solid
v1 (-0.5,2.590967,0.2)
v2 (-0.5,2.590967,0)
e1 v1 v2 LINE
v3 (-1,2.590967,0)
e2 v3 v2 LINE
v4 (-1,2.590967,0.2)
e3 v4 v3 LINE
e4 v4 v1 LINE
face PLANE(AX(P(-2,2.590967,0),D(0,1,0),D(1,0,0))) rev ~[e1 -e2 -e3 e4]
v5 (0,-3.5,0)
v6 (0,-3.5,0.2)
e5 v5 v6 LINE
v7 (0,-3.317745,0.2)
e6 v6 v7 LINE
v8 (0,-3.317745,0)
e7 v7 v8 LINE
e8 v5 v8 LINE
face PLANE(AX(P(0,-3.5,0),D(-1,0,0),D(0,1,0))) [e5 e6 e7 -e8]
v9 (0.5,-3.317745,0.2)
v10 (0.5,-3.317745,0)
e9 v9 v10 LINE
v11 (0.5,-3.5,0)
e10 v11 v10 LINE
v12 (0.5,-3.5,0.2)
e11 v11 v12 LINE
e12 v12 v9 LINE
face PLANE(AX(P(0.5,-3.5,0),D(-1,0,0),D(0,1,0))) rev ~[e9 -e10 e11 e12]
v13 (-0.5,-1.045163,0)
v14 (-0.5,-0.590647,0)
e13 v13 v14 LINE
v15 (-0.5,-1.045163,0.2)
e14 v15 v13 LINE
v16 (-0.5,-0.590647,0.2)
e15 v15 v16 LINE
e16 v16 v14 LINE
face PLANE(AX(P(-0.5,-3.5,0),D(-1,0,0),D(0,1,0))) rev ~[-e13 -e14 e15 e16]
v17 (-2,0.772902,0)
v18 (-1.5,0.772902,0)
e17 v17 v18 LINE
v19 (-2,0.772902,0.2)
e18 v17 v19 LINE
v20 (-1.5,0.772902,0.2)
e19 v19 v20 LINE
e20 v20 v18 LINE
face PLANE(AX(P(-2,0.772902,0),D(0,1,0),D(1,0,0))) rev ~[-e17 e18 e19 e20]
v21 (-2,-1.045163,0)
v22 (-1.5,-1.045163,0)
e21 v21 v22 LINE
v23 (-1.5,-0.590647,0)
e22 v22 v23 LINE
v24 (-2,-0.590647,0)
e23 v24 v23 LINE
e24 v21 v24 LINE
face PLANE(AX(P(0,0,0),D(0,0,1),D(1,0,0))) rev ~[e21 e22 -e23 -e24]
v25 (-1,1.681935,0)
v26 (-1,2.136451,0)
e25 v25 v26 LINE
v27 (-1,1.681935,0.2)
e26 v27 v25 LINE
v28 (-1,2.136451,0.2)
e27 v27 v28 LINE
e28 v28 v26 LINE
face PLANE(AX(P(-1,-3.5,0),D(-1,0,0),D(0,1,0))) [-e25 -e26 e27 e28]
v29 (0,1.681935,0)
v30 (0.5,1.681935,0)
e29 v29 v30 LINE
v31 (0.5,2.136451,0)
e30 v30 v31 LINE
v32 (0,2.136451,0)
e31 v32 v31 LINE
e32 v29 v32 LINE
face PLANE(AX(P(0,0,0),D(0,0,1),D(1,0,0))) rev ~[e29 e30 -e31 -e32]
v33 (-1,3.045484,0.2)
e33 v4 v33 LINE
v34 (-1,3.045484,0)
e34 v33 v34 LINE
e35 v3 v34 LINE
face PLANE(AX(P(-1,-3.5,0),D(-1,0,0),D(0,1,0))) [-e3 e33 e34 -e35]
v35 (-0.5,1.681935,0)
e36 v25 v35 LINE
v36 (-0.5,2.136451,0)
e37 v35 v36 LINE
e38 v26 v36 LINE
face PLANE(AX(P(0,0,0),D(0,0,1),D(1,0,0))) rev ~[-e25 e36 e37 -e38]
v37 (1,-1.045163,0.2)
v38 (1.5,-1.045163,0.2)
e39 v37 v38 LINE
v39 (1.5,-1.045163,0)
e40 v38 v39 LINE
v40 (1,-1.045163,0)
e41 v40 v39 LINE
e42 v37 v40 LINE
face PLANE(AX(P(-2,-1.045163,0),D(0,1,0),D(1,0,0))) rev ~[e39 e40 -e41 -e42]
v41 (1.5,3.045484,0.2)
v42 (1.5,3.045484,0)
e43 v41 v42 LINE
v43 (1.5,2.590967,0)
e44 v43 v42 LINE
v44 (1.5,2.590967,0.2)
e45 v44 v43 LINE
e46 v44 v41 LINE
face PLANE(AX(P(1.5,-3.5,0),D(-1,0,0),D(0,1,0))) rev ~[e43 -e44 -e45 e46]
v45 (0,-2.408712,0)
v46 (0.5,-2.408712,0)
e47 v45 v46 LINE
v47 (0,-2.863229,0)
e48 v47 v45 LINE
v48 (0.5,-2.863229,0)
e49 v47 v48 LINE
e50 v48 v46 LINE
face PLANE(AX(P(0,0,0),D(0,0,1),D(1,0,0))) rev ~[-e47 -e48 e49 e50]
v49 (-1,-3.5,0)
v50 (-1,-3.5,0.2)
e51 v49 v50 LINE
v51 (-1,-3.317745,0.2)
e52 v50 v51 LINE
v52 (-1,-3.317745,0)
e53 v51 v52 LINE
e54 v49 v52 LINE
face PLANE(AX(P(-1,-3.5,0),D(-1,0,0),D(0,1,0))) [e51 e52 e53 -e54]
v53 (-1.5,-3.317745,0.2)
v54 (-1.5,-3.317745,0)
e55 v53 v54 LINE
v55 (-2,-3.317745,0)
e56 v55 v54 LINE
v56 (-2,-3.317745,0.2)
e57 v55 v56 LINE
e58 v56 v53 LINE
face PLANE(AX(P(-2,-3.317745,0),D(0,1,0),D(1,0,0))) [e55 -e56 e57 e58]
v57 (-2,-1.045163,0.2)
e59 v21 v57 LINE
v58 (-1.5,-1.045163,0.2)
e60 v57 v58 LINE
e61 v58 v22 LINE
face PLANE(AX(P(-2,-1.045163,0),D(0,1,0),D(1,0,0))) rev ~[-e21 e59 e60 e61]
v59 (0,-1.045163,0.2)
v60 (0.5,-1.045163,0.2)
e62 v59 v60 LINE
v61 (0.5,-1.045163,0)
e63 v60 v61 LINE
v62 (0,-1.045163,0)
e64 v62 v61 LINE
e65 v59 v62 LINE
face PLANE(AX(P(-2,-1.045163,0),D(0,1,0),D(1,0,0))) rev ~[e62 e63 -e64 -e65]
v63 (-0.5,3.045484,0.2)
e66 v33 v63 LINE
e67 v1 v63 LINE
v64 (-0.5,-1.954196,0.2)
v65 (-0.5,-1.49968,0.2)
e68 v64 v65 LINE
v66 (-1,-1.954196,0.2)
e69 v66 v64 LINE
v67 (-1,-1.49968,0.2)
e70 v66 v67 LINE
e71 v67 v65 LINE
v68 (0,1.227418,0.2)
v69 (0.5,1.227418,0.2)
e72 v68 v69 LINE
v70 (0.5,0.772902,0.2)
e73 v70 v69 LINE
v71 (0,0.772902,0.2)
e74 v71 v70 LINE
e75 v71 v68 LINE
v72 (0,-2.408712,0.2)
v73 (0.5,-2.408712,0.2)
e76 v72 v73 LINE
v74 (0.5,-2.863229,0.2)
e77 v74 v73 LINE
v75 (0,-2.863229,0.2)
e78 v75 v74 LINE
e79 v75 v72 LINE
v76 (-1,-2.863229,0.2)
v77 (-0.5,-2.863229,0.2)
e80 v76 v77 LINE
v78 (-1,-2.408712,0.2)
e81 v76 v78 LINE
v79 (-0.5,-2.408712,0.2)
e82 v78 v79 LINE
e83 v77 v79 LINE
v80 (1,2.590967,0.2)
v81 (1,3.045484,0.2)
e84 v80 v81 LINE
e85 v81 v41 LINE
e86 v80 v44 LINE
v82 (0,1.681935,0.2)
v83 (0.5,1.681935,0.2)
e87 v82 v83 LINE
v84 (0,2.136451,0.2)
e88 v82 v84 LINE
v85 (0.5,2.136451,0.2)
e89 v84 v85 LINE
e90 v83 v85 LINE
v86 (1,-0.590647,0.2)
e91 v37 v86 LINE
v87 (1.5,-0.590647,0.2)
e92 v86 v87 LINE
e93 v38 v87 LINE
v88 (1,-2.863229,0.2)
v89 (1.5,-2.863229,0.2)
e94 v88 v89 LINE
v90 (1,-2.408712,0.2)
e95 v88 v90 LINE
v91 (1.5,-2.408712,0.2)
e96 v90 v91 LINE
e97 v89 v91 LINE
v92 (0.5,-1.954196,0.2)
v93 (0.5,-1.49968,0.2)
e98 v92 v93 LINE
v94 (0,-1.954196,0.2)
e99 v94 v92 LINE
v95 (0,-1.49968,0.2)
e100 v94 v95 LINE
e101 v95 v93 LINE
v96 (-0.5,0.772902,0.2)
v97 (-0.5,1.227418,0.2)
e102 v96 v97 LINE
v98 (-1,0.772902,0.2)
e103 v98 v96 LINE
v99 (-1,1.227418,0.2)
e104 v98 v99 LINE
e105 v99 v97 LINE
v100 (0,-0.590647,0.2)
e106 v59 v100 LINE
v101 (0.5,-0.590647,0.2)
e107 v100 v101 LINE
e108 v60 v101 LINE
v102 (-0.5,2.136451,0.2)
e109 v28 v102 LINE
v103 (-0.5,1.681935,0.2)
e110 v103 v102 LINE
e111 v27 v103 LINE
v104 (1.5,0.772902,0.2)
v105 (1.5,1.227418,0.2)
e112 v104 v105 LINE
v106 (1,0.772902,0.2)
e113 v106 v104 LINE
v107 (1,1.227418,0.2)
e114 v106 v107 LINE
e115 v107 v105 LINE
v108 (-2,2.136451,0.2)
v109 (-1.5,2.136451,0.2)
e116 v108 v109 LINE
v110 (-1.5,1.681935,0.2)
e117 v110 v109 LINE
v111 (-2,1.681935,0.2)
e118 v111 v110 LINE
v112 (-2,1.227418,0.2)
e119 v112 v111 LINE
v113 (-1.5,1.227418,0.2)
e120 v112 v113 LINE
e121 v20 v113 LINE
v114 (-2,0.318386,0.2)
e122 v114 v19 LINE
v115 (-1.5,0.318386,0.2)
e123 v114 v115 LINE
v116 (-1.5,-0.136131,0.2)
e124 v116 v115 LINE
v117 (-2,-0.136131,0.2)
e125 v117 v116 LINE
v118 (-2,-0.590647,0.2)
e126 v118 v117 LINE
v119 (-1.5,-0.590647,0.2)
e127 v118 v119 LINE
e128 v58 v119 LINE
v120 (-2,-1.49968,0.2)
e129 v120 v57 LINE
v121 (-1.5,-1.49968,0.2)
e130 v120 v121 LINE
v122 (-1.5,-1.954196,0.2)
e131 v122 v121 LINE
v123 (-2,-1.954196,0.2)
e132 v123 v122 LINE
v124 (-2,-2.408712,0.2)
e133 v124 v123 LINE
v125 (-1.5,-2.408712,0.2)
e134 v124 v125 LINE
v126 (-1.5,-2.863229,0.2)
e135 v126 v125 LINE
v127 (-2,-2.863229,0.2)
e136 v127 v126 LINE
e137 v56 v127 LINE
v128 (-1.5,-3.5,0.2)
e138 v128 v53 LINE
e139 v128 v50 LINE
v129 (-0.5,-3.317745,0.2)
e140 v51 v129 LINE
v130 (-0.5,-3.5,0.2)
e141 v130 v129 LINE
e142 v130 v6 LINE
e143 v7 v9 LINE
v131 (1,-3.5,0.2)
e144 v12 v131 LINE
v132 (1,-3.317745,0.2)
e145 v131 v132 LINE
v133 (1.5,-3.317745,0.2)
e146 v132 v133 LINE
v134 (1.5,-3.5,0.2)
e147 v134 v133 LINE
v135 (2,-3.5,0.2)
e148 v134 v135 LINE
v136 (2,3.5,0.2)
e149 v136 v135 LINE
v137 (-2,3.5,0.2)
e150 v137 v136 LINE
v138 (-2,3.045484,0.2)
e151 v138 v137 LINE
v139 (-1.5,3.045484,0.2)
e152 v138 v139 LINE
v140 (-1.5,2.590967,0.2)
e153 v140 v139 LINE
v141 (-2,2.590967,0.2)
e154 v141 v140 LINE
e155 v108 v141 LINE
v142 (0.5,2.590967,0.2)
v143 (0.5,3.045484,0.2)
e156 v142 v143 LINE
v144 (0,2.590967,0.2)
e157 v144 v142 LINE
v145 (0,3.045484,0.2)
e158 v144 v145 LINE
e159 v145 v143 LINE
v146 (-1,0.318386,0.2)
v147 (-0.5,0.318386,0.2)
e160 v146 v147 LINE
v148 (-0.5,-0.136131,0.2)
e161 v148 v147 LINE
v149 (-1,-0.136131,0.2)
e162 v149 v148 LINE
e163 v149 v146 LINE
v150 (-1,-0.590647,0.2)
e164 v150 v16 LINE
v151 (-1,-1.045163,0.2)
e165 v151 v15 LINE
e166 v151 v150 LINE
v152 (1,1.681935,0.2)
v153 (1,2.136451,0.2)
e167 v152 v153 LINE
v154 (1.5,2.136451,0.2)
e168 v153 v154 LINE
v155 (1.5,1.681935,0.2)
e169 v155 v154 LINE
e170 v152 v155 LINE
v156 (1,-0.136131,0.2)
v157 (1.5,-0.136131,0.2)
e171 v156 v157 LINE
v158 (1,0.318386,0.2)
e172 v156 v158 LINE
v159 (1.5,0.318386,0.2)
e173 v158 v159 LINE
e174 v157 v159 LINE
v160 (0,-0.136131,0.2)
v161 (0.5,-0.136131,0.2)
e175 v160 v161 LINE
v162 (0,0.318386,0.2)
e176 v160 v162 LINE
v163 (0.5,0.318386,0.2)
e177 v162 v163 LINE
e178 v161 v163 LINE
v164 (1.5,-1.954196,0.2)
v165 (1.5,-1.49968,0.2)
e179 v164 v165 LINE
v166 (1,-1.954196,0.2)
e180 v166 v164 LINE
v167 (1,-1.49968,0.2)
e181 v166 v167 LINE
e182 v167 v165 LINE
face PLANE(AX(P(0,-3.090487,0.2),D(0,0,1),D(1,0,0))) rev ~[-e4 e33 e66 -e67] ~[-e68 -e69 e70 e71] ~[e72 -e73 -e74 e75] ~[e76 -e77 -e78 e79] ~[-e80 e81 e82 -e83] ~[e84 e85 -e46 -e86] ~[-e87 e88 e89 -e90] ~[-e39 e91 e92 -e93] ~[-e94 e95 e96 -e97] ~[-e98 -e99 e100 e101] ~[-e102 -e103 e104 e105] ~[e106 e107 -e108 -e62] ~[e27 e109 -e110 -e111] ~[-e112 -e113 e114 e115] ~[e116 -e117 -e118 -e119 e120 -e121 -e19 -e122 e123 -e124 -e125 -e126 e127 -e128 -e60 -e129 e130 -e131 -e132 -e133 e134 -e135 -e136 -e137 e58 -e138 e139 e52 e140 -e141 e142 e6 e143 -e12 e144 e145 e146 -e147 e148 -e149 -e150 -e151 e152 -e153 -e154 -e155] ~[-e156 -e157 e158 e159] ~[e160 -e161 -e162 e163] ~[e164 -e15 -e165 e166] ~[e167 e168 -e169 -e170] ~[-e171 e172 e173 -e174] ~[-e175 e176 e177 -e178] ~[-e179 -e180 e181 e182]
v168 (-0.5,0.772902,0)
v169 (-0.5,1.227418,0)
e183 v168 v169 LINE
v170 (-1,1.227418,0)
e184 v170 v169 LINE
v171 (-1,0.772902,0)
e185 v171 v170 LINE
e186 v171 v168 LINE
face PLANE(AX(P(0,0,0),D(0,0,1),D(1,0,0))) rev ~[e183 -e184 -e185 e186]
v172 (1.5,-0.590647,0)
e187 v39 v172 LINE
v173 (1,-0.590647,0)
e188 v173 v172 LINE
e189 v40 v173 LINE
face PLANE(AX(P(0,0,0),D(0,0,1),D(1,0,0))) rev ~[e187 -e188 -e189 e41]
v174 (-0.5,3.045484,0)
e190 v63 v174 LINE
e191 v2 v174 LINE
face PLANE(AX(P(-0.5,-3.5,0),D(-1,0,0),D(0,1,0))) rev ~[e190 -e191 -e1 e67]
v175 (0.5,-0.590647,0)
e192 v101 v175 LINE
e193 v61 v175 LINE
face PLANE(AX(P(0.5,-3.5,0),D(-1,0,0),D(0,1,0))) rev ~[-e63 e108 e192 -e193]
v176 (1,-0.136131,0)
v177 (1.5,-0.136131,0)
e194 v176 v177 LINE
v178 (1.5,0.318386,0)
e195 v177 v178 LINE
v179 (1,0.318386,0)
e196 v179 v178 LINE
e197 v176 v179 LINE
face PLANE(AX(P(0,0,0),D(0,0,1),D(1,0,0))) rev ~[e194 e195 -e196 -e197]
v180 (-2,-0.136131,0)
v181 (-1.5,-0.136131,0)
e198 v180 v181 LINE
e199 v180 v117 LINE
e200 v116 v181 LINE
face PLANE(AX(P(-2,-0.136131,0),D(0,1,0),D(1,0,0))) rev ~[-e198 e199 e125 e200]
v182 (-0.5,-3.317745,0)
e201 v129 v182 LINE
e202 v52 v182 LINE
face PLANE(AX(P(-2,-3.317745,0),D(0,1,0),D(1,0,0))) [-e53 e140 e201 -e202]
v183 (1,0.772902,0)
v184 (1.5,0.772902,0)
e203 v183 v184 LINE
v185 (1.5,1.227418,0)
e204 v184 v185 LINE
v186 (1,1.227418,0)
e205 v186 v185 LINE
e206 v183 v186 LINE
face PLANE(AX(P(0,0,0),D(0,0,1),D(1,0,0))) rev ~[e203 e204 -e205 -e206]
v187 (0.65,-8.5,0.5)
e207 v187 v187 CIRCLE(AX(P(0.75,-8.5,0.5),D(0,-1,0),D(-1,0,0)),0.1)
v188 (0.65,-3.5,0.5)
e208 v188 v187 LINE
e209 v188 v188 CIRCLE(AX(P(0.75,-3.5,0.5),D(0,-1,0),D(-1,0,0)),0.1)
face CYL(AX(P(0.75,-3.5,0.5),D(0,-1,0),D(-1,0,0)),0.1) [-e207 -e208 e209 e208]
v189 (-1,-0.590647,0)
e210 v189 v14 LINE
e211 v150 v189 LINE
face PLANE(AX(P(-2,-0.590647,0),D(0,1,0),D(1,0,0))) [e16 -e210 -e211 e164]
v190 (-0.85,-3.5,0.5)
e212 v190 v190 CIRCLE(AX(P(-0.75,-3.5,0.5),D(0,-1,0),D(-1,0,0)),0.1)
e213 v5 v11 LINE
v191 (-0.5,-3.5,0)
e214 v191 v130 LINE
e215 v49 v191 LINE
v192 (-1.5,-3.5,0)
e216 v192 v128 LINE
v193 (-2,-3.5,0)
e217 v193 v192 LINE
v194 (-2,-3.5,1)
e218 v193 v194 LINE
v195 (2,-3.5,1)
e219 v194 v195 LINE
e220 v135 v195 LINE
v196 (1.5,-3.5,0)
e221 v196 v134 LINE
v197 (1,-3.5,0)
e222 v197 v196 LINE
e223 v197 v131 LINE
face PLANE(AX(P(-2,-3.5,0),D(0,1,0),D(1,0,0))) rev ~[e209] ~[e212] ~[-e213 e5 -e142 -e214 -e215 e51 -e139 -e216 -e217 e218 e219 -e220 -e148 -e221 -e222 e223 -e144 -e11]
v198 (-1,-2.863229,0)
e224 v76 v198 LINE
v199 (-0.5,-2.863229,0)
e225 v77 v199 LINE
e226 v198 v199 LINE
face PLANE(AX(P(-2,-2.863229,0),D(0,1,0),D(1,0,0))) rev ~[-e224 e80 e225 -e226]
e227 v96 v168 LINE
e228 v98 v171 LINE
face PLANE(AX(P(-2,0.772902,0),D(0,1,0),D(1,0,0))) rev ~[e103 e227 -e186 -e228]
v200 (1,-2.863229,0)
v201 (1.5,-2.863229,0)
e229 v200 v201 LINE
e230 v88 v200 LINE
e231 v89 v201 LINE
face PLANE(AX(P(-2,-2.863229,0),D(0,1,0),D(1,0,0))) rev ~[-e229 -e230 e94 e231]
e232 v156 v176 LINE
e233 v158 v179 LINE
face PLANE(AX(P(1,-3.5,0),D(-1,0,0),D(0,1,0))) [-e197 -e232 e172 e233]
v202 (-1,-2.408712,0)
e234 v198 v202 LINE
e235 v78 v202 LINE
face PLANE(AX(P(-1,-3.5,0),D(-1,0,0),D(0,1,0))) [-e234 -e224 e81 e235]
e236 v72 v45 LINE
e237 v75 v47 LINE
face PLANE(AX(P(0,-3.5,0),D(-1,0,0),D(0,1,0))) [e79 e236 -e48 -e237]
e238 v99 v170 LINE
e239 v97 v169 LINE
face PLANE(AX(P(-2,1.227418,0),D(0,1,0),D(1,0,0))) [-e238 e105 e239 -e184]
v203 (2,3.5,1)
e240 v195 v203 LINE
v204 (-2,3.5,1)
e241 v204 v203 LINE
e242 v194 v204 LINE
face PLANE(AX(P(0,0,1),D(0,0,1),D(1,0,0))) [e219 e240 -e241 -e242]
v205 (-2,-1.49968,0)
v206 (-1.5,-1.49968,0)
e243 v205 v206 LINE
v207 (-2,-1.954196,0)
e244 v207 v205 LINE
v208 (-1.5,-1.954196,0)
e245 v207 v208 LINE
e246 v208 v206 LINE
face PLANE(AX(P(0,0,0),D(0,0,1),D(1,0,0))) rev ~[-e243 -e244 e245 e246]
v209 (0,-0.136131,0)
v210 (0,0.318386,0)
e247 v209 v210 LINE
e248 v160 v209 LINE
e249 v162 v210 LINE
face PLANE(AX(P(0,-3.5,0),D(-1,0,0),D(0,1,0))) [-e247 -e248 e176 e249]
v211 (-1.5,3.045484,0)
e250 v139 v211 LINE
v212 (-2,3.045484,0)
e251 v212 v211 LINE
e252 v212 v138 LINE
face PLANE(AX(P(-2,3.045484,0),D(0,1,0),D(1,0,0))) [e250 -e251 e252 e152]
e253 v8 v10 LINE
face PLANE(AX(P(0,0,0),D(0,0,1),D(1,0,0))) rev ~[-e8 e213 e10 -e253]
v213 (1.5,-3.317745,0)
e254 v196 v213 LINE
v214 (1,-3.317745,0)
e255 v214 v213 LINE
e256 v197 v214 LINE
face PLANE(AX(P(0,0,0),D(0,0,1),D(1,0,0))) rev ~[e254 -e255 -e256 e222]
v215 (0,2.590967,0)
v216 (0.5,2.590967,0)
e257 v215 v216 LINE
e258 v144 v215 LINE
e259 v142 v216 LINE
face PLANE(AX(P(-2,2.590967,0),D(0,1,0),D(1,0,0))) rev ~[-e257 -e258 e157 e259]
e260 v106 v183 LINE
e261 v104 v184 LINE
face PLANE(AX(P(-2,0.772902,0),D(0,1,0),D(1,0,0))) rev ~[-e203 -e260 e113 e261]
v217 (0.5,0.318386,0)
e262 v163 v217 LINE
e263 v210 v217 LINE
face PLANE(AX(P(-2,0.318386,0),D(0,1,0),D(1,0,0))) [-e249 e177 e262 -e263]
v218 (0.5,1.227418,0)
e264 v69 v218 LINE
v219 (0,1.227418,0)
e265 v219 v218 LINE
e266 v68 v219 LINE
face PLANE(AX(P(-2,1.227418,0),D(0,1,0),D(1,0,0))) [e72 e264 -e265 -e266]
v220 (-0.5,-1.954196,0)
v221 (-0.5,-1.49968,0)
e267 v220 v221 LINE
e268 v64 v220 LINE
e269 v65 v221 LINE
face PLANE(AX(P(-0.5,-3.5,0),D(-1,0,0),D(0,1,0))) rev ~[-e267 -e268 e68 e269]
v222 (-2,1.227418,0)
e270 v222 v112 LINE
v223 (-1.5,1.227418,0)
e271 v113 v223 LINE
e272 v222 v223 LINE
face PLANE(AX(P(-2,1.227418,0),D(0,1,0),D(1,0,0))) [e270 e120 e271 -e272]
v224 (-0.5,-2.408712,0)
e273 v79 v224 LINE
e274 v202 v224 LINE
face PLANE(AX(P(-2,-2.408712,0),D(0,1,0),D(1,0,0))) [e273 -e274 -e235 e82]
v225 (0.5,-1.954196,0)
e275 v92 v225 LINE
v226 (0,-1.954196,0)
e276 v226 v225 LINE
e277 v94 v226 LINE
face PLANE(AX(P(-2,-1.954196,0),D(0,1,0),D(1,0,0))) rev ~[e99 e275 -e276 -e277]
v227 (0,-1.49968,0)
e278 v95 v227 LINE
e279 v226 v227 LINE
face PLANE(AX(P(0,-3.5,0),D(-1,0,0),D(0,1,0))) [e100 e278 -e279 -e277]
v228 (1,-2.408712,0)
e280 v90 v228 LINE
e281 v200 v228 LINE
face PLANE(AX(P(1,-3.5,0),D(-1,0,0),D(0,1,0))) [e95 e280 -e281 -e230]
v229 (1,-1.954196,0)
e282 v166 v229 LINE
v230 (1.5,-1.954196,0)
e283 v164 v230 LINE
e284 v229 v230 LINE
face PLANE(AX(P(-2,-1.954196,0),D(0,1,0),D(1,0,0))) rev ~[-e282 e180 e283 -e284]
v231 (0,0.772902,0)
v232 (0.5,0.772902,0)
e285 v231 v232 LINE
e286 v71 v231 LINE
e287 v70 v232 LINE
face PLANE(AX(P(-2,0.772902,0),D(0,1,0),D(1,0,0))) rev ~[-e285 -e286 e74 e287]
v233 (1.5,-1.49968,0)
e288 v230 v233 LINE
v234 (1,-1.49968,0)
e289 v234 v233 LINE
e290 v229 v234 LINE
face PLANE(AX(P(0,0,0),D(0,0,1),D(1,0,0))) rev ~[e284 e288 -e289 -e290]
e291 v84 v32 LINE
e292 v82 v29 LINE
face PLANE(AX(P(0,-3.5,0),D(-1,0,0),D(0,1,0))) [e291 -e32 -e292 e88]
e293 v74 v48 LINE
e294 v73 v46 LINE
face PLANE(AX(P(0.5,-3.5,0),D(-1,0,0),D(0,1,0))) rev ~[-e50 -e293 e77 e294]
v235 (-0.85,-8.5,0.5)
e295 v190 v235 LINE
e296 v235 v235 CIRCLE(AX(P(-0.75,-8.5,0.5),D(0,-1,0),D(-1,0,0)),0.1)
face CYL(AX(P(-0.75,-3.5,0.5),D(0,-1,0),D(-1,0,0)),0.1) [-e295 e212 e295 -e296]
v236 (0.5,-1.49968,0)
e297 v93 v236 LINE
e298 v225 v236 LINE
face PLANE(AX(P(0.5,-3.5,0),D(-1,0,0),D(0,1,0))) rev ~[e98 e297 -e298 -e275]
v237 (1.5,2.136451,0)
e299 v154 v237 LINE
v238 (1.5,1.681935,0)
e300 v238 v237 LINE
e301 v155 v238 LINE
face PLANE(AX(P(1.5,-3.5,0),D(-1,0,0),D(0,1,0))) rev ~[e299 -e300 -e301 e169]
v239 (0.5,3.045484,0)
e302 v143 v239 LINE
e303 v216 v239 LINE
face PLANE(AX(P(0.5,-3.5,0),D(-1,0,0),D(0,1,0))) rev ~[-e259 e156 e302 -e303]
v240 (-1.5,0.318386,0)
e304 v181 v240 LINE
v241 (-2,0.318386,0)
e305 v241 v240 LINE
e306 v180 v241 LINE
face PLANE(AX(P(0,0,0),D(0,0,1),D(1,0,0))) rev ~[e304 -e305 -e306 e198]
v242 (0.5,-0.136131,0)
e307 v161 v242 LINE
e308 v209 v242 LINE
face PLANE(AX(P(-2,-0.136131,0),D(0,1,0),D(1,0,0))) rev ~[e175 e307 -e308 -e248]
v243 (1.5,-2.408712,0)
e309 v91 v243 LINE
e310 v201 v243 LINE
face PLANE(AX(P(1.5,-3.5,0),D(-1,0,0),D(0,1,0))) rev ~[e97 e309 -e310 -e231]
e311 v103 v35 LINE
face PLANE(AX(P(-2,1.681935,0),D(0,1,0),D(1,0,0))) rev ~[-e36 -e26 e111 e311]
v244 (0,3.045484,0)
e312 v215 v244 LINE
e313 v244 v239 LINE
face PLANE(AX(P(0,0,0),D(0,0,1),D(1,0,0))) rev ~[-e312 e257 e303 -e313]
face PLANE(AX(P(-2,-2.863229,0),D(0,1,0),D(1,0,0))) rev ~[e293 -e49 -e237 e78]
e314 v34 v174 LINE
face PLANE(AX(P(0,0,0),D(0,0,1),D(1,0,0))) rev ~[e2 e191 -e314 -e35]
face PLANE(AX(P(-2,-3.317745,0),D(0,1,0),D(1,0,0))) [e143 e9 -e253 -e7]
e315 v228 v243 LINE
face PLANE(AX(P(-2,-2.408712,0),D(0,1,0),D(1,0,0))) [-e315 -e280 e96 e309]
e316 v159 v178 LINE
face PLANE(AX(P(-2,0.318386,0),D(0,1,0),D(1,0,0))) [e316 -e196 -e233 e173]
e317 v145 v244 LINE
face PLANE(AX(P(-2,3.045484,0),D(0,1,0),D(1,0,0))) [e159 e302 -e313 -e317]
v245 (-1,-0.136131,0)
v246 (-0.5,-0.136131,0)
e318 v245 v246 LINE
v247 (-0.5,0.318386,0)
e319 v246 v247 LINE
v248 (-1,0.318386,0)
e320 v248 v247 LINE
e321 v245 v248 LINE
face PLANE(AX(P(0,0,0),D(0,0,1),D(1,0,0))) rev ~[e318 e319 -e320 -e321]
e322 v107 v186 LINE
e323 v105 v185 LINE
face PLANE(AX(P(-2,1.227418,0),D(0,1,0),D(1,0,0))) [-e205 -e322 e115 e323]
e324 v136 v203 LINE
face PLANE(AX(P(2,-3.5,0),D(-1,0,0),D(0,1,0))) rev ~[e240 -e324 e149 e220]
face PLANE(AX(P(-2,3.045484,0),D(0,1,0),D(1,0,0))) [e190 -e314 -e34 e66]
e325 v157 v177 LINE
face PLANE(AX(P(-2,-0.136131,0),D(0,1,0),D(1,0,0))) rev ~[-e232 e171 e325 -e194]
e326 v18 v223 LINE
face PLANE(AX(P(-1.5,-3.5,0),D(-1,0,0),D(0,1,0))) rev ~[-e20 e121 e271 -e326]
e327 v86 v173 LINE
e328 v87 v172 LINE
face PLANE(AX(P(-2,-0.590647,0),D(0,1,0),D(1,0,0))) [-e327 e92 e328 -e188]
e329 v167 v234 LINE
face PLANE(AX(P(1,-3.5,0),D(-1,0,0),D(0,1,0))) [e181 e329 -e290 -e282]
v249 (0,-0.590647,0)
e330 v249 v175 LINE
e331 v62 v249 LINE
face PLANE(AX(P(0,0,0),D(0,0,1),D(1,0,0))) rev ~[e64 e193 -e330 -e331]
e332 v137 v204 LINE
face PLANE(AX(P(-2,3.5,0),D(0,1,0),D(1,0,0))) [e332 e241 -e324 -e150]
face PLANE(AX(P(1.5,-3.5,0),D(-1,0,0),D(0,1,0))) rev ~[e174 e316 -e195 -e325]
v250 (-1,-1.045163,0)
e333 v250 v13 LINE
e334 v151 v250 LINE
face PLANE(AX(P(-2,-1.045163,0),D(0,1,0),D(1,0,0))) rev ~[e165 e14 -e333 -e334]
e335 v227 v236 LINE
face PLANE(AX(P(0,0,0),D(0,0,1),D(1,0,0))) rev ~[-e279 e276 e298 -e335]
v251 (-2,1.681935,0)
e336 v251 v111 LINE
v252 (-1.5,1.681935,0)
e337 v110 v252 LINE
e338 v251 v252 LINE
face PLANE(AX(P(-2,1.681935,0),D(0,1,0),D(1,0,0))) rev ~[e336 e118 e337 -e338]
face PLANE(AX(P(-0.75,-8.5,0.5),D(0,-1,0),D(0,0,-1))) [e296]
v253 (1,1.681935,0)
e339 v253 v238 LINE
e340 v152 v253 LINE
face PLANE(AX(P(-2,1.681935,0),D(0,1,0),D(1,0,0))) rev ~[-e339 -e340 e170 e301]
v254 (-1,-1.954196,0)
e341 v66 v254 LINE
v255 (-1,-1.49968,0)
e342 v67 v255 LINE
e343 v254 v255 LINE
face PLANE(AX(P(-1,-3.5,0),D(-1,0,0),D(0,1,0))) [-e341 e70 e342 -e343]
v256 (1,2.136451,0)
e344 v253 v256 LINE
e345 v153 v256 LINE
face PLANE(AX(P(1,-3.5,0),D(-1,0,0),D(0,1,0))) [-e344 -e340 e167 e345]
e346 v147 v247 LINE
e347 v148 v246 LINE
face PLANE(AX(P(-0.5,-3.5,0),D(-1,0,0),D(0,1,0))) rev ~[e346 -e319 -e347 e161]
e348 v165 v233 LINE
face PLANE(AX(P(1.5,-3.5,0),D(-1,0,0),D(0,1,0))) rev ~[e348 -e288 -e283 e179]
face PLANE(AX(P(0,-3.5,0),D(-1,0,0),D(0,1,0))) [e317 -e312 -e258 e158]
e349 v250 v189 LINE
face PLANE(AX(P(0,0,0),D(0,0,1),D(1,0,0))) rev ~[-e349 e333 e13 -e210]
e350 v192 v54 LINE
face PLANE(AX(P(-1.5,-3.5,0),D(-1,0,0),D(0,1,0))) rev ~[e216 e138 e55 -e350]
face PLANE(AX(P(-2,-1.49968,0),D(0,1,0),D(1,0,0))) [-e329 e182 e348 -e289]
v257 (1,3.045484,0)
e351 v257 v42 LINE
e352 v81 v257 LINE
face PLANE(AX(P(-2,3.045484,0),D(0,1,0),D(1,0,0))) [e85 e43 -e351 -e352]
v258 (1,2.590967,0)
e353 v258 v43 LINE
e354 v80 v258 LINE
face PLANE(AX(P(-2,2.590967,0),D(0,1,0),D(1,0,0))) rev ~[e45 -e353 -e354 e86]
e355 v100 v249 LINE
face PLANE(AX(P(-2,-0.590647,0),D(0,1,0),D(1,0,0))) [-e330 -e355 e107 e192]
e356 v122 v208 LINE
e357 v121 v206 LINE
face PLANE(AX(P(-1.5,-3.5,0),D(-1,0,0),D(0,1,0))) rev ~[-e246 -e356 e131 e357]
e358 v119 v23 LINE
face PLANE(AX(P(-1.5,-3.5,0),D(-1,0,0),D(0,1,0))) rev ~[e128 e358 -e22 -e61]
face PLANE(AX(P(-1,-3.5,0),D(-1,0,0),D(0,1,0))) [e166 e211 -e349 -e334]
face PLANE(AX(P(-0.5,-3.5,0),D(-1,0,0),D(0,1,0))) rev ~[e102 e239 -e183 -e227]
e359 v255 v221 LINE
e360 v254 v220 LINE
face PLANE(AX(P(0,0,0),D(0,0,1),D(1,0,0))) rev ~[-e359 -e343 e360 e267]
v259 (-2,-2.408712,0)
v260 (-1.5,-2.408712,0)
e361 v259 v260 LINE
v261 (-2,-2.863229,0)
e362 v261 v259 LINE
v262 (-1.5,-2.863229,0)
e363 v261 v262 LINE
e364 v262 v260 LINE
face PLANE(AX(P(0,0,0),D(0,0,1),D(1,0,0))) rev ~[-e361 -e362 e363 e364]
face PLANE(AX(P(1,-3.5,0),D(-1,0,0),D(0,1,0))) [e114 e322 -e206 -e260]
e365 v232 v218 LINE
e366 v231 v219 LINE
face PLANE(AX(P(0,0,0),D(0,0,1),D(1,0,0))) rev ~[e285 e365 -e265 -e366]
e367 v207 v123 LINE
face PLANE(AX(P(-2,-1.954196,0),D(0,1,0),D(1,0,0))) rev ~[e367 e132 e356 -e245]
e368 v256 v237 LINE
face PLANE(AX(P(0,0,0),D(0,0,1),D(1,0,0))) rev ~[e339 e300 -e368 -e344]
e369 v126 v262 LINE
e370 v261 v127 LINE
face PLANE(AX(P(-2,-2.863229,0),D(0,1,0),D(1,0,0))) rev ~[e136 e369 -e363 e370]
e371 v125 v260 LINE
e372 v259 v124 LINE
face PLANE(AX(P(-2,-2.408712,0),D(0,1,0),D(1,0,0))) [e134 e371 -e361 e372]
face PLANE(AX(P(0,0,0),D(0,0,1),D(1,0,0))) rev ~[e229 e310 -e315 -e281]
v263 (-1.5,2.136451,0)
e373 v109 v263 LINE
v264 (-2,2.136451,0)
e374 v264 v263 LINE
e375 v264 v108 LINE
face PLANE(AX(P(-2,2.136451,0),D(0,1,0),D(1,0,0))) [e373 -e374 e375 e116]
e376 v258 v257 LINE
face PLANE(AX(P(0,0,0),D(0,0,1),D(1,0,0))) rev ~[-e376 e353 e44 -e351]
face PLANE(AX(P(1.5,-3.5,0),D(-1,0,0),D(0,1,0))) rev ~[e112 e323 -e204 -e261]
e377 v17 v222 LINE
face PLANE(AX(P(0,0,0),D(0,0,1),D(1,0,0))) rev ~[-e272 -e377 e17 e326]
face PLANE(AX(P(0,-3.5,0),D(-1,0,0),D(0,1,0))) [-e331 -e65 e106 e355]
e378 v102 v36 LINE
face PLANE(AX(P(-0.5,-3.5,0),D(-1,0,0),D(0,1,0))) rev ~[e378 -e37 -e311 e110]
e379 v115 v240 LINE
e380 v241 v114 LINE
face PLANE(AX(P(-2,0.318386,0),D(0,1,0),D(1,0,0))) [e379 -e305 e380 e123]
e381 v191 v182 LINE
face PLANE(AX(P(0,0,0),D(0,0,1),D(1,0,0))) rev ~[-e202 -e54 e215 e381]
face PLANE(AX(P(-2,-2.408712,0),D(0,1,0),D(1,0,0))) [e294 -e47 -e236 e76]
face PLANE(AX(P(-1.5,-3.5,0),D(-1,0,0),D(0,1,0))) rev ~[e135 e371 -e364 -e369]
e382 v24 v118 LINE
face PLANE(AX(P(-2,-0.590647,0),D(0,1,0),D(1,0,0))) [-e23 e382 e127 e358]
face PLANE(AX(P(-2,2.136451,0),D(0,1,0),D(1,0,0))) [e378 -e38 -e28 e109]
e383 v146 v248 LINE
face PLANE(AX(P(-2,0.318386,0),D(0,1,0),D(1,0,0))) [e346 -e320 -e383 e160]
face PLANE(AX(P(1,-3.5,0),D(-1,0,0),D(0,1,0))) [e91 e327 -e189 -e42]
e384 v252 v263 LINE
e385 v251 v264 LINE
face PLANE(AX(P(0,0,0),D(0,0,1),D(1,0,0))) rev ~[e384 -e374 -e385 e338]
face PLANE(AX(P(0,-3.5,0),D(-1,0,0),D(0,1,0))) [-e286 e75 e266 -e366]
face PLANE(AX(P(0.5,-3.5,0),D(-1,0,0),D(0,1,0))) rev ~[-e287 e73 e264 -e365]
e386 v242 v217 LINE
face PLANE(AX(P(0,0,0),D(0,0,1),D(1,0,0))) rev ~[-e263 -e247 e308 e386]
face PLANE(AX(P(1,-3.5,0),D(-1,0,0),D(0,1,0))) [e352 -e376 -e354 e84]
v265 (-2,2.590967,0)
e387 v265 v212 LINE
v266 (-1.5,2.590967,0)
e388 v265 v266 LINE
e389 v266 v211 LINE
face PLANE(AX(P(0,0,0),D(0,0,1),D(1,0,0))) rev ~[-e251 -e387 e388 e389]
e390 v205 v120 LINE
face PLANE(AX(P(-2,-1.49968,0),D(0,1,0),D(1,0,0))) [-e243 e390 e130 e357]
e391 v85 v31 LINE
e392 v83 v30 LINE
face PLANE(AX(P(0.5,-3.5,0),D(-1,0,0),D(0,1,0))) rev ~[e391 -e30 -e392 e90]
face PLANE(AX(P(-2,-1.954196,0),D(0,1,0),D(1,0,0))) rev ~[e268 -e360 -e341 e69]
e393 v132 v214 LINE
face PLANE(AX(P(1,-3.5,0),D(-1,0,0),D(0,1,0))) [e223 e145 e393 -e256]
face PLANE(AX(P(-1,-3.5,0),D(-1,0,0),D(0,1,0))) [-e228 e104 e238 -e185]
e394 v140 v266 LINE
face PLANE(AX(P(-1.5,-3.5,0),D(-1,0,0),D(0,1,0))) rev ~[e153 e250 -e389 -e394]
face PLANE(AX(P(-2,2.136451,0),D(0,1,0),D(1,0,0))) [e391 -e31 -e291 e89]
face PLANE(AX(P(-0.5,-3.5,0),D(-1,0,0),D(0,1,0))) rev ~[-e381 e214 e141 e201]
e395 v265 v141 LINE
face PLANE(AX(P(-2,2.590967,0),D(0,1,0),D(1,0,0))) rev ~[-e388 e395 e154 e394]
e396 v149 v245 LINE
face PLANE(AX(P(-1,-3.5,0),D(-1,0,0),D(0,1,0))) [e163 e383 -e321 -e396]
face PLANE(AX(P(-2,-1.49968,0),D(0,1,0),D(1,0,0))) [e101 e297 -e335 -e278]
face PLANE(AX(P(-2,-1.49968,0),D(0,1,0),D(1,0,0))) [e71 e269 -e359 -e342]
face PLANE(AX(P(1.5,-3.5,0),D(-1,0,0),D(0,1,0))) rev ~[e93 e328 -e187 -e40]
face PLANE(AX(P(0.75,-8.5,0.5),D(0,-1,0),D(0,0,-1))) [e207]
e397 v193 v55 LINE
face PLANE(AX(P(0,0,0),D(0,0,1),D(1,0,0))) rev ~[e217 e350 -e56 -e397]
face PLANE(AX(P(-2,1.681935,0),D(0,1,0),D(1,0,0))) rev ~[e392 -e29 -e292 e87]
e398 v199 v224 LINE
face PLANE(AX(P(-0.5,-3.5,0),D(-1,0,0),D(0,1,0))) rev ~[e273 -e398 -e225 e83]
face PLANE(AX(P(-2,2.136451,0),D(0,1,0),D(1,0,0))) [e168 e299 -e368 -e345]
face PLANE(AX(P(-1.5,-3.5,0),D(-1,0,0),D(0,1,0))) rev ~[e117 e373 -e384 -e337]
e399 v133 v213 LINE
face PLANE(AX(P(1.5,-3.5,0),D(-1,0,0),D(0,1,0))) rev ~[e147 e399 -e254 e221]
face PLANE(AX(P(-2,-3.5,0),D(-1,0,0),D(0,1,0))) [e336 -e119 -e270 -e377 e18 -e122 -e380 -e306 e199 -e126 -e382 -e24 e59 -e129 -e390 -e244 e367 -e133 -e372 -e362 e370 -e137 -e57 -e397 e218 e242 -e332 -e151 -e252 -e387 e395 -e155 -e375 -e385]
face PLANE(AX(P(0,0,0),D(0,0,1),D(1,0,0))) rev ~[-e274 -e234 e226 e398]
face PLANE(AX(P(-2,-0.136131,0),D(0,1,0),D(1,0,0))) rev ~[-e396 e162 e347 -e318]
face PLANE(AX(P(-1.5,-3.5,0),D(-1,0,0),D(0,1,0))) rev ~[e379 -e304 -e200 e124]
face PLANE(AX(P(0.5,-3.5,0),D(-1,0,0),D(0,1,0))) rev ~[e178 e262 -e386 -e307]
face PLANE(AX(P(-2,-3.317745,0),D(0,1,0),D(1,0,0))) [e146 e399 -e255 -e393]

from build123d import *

# Parameters (mm, degrees)
SKETCH_1_W          = 4
SKETCH_1_H          = 7
EXTRUDE_1_DEPTH     = 1
SKETCH_2_W          = 0.5
SKETCH_2_H          = 7
CUT_EXTRUDE_2_DEPTH = 0.2
SKETCH_3_W          = 4
SKETCH_3_H          = 0.454516336
SKETCH_3_H_2        = 0.454516335
CUT_EXTRUDE_4_DEPTH = 0.2
SWEEP_1_PROFILE_R   = 0.1
SWEEP_2_PROFILE_R   = 0.1


with BuildPart() as part:
    # 草图1 → 凸台-拉伸1 (new body)
    with BuildSketch(Plane.XY):
        Rectangle(SKETCH_1_W, SKETCH_1_H)
    extrude(amount=EXTRUDE_1_DEPTH)

    # 草图2 → 切除-拉伸2 (cut)
    with BuildSketch(Plane.XY):
        with Locations((1.75, 0)):
            Rectangle(SKETCH_2_W, SKETCH_2_H)
        with Locations((0.75, 0)):
            Rectangle(SKETCH_2_W, SKETCH_2_H)
        with Locations((-0.25, 0)):
            Rectangle(SKETCH_2_W, SKETCH_2_H)
        with Locations((-1.25, 0)):
            Rectangle(SKETCH_2_W, SKETCH_2_H)
    extrude(amount=CUT_EXTRUDE_2_DEPTH, mode=Mode.SUBTRACT)

    # 草图3 → 切除-拉伸4 (cut)
    with BuildSketch(Plane.XY):
        with Locations((0, 3.272741832)):
            Rectangle(SKETCH_3_W, SKETCH_3_H)
        with Locations((0, 2.363709161)):
            Rectangle(SKETCH_3_W, SKETCH_3_H)
        with Locations((0, 1.45467649)):
            Rectangle(SKETCH_3_W, SKETCH_3_H_2)
        with Locations((0, 0.545643818)):
            Rectangle(SKETCH_3_W, SKETCH_3_H)
        with Locations((0, -0.363388853)):
            Rectangle(SKETCH_3_W, SKETCH_3_H)
        with Locations((0, -1.272421525)):
            Rectangle(SKETCH_3_W, SKETCH_3_H)
        with Locations((0, -2.181454196)):
            Rectangle(SKETCH_3_W, SKETCH_3_H)
        with Locations((0, -3.090486868)):
            Rectangle(SKETCH_3_W, SKETCH_3_H_2)
    extrude(amount=CUT_EXTRUDE_4_DEPTH, mode=Mode.SUBTRACT)

    # 扫描1: sweep along a path in 草图4
    with BuildLine(Plane.XY.offset(0.5)) as sweep_1_path:
        Line((-0.75, -3.5), (-0.75, -8.5))
    # 扫描1 profile (on start of the path) → 扫描1 (sweep)
    with BuildSketch(Plane(origin=(-0.75, -3.5, 0.5), x_dir=(-1, 0, 0), z_dir=(0, -1, 0))):
        Circle(SWEEP_1_PROFILE_R)
    sweep(path=sweep_1_path.line)

    # 扫描2: sweep along a path in 草图11
    with BuildLine(Plane.XY.offset(0.5)) as sweep_2_path:
        Line((0.75, -3.5), (0.75, -8.5))
    # 扫描2 profile (on start of the path) → 扫描2 (sweep)
    with BuildSketch(Plane(origin=(0.75, -3.5, 0.5), x_dir=(-1, 0, 0), z_dir=(0, -1, 0))):
        Circle(SWEEP_2_PROFILE_R)
    sweep(path=sweep_2_path.line)


solid = part.part
